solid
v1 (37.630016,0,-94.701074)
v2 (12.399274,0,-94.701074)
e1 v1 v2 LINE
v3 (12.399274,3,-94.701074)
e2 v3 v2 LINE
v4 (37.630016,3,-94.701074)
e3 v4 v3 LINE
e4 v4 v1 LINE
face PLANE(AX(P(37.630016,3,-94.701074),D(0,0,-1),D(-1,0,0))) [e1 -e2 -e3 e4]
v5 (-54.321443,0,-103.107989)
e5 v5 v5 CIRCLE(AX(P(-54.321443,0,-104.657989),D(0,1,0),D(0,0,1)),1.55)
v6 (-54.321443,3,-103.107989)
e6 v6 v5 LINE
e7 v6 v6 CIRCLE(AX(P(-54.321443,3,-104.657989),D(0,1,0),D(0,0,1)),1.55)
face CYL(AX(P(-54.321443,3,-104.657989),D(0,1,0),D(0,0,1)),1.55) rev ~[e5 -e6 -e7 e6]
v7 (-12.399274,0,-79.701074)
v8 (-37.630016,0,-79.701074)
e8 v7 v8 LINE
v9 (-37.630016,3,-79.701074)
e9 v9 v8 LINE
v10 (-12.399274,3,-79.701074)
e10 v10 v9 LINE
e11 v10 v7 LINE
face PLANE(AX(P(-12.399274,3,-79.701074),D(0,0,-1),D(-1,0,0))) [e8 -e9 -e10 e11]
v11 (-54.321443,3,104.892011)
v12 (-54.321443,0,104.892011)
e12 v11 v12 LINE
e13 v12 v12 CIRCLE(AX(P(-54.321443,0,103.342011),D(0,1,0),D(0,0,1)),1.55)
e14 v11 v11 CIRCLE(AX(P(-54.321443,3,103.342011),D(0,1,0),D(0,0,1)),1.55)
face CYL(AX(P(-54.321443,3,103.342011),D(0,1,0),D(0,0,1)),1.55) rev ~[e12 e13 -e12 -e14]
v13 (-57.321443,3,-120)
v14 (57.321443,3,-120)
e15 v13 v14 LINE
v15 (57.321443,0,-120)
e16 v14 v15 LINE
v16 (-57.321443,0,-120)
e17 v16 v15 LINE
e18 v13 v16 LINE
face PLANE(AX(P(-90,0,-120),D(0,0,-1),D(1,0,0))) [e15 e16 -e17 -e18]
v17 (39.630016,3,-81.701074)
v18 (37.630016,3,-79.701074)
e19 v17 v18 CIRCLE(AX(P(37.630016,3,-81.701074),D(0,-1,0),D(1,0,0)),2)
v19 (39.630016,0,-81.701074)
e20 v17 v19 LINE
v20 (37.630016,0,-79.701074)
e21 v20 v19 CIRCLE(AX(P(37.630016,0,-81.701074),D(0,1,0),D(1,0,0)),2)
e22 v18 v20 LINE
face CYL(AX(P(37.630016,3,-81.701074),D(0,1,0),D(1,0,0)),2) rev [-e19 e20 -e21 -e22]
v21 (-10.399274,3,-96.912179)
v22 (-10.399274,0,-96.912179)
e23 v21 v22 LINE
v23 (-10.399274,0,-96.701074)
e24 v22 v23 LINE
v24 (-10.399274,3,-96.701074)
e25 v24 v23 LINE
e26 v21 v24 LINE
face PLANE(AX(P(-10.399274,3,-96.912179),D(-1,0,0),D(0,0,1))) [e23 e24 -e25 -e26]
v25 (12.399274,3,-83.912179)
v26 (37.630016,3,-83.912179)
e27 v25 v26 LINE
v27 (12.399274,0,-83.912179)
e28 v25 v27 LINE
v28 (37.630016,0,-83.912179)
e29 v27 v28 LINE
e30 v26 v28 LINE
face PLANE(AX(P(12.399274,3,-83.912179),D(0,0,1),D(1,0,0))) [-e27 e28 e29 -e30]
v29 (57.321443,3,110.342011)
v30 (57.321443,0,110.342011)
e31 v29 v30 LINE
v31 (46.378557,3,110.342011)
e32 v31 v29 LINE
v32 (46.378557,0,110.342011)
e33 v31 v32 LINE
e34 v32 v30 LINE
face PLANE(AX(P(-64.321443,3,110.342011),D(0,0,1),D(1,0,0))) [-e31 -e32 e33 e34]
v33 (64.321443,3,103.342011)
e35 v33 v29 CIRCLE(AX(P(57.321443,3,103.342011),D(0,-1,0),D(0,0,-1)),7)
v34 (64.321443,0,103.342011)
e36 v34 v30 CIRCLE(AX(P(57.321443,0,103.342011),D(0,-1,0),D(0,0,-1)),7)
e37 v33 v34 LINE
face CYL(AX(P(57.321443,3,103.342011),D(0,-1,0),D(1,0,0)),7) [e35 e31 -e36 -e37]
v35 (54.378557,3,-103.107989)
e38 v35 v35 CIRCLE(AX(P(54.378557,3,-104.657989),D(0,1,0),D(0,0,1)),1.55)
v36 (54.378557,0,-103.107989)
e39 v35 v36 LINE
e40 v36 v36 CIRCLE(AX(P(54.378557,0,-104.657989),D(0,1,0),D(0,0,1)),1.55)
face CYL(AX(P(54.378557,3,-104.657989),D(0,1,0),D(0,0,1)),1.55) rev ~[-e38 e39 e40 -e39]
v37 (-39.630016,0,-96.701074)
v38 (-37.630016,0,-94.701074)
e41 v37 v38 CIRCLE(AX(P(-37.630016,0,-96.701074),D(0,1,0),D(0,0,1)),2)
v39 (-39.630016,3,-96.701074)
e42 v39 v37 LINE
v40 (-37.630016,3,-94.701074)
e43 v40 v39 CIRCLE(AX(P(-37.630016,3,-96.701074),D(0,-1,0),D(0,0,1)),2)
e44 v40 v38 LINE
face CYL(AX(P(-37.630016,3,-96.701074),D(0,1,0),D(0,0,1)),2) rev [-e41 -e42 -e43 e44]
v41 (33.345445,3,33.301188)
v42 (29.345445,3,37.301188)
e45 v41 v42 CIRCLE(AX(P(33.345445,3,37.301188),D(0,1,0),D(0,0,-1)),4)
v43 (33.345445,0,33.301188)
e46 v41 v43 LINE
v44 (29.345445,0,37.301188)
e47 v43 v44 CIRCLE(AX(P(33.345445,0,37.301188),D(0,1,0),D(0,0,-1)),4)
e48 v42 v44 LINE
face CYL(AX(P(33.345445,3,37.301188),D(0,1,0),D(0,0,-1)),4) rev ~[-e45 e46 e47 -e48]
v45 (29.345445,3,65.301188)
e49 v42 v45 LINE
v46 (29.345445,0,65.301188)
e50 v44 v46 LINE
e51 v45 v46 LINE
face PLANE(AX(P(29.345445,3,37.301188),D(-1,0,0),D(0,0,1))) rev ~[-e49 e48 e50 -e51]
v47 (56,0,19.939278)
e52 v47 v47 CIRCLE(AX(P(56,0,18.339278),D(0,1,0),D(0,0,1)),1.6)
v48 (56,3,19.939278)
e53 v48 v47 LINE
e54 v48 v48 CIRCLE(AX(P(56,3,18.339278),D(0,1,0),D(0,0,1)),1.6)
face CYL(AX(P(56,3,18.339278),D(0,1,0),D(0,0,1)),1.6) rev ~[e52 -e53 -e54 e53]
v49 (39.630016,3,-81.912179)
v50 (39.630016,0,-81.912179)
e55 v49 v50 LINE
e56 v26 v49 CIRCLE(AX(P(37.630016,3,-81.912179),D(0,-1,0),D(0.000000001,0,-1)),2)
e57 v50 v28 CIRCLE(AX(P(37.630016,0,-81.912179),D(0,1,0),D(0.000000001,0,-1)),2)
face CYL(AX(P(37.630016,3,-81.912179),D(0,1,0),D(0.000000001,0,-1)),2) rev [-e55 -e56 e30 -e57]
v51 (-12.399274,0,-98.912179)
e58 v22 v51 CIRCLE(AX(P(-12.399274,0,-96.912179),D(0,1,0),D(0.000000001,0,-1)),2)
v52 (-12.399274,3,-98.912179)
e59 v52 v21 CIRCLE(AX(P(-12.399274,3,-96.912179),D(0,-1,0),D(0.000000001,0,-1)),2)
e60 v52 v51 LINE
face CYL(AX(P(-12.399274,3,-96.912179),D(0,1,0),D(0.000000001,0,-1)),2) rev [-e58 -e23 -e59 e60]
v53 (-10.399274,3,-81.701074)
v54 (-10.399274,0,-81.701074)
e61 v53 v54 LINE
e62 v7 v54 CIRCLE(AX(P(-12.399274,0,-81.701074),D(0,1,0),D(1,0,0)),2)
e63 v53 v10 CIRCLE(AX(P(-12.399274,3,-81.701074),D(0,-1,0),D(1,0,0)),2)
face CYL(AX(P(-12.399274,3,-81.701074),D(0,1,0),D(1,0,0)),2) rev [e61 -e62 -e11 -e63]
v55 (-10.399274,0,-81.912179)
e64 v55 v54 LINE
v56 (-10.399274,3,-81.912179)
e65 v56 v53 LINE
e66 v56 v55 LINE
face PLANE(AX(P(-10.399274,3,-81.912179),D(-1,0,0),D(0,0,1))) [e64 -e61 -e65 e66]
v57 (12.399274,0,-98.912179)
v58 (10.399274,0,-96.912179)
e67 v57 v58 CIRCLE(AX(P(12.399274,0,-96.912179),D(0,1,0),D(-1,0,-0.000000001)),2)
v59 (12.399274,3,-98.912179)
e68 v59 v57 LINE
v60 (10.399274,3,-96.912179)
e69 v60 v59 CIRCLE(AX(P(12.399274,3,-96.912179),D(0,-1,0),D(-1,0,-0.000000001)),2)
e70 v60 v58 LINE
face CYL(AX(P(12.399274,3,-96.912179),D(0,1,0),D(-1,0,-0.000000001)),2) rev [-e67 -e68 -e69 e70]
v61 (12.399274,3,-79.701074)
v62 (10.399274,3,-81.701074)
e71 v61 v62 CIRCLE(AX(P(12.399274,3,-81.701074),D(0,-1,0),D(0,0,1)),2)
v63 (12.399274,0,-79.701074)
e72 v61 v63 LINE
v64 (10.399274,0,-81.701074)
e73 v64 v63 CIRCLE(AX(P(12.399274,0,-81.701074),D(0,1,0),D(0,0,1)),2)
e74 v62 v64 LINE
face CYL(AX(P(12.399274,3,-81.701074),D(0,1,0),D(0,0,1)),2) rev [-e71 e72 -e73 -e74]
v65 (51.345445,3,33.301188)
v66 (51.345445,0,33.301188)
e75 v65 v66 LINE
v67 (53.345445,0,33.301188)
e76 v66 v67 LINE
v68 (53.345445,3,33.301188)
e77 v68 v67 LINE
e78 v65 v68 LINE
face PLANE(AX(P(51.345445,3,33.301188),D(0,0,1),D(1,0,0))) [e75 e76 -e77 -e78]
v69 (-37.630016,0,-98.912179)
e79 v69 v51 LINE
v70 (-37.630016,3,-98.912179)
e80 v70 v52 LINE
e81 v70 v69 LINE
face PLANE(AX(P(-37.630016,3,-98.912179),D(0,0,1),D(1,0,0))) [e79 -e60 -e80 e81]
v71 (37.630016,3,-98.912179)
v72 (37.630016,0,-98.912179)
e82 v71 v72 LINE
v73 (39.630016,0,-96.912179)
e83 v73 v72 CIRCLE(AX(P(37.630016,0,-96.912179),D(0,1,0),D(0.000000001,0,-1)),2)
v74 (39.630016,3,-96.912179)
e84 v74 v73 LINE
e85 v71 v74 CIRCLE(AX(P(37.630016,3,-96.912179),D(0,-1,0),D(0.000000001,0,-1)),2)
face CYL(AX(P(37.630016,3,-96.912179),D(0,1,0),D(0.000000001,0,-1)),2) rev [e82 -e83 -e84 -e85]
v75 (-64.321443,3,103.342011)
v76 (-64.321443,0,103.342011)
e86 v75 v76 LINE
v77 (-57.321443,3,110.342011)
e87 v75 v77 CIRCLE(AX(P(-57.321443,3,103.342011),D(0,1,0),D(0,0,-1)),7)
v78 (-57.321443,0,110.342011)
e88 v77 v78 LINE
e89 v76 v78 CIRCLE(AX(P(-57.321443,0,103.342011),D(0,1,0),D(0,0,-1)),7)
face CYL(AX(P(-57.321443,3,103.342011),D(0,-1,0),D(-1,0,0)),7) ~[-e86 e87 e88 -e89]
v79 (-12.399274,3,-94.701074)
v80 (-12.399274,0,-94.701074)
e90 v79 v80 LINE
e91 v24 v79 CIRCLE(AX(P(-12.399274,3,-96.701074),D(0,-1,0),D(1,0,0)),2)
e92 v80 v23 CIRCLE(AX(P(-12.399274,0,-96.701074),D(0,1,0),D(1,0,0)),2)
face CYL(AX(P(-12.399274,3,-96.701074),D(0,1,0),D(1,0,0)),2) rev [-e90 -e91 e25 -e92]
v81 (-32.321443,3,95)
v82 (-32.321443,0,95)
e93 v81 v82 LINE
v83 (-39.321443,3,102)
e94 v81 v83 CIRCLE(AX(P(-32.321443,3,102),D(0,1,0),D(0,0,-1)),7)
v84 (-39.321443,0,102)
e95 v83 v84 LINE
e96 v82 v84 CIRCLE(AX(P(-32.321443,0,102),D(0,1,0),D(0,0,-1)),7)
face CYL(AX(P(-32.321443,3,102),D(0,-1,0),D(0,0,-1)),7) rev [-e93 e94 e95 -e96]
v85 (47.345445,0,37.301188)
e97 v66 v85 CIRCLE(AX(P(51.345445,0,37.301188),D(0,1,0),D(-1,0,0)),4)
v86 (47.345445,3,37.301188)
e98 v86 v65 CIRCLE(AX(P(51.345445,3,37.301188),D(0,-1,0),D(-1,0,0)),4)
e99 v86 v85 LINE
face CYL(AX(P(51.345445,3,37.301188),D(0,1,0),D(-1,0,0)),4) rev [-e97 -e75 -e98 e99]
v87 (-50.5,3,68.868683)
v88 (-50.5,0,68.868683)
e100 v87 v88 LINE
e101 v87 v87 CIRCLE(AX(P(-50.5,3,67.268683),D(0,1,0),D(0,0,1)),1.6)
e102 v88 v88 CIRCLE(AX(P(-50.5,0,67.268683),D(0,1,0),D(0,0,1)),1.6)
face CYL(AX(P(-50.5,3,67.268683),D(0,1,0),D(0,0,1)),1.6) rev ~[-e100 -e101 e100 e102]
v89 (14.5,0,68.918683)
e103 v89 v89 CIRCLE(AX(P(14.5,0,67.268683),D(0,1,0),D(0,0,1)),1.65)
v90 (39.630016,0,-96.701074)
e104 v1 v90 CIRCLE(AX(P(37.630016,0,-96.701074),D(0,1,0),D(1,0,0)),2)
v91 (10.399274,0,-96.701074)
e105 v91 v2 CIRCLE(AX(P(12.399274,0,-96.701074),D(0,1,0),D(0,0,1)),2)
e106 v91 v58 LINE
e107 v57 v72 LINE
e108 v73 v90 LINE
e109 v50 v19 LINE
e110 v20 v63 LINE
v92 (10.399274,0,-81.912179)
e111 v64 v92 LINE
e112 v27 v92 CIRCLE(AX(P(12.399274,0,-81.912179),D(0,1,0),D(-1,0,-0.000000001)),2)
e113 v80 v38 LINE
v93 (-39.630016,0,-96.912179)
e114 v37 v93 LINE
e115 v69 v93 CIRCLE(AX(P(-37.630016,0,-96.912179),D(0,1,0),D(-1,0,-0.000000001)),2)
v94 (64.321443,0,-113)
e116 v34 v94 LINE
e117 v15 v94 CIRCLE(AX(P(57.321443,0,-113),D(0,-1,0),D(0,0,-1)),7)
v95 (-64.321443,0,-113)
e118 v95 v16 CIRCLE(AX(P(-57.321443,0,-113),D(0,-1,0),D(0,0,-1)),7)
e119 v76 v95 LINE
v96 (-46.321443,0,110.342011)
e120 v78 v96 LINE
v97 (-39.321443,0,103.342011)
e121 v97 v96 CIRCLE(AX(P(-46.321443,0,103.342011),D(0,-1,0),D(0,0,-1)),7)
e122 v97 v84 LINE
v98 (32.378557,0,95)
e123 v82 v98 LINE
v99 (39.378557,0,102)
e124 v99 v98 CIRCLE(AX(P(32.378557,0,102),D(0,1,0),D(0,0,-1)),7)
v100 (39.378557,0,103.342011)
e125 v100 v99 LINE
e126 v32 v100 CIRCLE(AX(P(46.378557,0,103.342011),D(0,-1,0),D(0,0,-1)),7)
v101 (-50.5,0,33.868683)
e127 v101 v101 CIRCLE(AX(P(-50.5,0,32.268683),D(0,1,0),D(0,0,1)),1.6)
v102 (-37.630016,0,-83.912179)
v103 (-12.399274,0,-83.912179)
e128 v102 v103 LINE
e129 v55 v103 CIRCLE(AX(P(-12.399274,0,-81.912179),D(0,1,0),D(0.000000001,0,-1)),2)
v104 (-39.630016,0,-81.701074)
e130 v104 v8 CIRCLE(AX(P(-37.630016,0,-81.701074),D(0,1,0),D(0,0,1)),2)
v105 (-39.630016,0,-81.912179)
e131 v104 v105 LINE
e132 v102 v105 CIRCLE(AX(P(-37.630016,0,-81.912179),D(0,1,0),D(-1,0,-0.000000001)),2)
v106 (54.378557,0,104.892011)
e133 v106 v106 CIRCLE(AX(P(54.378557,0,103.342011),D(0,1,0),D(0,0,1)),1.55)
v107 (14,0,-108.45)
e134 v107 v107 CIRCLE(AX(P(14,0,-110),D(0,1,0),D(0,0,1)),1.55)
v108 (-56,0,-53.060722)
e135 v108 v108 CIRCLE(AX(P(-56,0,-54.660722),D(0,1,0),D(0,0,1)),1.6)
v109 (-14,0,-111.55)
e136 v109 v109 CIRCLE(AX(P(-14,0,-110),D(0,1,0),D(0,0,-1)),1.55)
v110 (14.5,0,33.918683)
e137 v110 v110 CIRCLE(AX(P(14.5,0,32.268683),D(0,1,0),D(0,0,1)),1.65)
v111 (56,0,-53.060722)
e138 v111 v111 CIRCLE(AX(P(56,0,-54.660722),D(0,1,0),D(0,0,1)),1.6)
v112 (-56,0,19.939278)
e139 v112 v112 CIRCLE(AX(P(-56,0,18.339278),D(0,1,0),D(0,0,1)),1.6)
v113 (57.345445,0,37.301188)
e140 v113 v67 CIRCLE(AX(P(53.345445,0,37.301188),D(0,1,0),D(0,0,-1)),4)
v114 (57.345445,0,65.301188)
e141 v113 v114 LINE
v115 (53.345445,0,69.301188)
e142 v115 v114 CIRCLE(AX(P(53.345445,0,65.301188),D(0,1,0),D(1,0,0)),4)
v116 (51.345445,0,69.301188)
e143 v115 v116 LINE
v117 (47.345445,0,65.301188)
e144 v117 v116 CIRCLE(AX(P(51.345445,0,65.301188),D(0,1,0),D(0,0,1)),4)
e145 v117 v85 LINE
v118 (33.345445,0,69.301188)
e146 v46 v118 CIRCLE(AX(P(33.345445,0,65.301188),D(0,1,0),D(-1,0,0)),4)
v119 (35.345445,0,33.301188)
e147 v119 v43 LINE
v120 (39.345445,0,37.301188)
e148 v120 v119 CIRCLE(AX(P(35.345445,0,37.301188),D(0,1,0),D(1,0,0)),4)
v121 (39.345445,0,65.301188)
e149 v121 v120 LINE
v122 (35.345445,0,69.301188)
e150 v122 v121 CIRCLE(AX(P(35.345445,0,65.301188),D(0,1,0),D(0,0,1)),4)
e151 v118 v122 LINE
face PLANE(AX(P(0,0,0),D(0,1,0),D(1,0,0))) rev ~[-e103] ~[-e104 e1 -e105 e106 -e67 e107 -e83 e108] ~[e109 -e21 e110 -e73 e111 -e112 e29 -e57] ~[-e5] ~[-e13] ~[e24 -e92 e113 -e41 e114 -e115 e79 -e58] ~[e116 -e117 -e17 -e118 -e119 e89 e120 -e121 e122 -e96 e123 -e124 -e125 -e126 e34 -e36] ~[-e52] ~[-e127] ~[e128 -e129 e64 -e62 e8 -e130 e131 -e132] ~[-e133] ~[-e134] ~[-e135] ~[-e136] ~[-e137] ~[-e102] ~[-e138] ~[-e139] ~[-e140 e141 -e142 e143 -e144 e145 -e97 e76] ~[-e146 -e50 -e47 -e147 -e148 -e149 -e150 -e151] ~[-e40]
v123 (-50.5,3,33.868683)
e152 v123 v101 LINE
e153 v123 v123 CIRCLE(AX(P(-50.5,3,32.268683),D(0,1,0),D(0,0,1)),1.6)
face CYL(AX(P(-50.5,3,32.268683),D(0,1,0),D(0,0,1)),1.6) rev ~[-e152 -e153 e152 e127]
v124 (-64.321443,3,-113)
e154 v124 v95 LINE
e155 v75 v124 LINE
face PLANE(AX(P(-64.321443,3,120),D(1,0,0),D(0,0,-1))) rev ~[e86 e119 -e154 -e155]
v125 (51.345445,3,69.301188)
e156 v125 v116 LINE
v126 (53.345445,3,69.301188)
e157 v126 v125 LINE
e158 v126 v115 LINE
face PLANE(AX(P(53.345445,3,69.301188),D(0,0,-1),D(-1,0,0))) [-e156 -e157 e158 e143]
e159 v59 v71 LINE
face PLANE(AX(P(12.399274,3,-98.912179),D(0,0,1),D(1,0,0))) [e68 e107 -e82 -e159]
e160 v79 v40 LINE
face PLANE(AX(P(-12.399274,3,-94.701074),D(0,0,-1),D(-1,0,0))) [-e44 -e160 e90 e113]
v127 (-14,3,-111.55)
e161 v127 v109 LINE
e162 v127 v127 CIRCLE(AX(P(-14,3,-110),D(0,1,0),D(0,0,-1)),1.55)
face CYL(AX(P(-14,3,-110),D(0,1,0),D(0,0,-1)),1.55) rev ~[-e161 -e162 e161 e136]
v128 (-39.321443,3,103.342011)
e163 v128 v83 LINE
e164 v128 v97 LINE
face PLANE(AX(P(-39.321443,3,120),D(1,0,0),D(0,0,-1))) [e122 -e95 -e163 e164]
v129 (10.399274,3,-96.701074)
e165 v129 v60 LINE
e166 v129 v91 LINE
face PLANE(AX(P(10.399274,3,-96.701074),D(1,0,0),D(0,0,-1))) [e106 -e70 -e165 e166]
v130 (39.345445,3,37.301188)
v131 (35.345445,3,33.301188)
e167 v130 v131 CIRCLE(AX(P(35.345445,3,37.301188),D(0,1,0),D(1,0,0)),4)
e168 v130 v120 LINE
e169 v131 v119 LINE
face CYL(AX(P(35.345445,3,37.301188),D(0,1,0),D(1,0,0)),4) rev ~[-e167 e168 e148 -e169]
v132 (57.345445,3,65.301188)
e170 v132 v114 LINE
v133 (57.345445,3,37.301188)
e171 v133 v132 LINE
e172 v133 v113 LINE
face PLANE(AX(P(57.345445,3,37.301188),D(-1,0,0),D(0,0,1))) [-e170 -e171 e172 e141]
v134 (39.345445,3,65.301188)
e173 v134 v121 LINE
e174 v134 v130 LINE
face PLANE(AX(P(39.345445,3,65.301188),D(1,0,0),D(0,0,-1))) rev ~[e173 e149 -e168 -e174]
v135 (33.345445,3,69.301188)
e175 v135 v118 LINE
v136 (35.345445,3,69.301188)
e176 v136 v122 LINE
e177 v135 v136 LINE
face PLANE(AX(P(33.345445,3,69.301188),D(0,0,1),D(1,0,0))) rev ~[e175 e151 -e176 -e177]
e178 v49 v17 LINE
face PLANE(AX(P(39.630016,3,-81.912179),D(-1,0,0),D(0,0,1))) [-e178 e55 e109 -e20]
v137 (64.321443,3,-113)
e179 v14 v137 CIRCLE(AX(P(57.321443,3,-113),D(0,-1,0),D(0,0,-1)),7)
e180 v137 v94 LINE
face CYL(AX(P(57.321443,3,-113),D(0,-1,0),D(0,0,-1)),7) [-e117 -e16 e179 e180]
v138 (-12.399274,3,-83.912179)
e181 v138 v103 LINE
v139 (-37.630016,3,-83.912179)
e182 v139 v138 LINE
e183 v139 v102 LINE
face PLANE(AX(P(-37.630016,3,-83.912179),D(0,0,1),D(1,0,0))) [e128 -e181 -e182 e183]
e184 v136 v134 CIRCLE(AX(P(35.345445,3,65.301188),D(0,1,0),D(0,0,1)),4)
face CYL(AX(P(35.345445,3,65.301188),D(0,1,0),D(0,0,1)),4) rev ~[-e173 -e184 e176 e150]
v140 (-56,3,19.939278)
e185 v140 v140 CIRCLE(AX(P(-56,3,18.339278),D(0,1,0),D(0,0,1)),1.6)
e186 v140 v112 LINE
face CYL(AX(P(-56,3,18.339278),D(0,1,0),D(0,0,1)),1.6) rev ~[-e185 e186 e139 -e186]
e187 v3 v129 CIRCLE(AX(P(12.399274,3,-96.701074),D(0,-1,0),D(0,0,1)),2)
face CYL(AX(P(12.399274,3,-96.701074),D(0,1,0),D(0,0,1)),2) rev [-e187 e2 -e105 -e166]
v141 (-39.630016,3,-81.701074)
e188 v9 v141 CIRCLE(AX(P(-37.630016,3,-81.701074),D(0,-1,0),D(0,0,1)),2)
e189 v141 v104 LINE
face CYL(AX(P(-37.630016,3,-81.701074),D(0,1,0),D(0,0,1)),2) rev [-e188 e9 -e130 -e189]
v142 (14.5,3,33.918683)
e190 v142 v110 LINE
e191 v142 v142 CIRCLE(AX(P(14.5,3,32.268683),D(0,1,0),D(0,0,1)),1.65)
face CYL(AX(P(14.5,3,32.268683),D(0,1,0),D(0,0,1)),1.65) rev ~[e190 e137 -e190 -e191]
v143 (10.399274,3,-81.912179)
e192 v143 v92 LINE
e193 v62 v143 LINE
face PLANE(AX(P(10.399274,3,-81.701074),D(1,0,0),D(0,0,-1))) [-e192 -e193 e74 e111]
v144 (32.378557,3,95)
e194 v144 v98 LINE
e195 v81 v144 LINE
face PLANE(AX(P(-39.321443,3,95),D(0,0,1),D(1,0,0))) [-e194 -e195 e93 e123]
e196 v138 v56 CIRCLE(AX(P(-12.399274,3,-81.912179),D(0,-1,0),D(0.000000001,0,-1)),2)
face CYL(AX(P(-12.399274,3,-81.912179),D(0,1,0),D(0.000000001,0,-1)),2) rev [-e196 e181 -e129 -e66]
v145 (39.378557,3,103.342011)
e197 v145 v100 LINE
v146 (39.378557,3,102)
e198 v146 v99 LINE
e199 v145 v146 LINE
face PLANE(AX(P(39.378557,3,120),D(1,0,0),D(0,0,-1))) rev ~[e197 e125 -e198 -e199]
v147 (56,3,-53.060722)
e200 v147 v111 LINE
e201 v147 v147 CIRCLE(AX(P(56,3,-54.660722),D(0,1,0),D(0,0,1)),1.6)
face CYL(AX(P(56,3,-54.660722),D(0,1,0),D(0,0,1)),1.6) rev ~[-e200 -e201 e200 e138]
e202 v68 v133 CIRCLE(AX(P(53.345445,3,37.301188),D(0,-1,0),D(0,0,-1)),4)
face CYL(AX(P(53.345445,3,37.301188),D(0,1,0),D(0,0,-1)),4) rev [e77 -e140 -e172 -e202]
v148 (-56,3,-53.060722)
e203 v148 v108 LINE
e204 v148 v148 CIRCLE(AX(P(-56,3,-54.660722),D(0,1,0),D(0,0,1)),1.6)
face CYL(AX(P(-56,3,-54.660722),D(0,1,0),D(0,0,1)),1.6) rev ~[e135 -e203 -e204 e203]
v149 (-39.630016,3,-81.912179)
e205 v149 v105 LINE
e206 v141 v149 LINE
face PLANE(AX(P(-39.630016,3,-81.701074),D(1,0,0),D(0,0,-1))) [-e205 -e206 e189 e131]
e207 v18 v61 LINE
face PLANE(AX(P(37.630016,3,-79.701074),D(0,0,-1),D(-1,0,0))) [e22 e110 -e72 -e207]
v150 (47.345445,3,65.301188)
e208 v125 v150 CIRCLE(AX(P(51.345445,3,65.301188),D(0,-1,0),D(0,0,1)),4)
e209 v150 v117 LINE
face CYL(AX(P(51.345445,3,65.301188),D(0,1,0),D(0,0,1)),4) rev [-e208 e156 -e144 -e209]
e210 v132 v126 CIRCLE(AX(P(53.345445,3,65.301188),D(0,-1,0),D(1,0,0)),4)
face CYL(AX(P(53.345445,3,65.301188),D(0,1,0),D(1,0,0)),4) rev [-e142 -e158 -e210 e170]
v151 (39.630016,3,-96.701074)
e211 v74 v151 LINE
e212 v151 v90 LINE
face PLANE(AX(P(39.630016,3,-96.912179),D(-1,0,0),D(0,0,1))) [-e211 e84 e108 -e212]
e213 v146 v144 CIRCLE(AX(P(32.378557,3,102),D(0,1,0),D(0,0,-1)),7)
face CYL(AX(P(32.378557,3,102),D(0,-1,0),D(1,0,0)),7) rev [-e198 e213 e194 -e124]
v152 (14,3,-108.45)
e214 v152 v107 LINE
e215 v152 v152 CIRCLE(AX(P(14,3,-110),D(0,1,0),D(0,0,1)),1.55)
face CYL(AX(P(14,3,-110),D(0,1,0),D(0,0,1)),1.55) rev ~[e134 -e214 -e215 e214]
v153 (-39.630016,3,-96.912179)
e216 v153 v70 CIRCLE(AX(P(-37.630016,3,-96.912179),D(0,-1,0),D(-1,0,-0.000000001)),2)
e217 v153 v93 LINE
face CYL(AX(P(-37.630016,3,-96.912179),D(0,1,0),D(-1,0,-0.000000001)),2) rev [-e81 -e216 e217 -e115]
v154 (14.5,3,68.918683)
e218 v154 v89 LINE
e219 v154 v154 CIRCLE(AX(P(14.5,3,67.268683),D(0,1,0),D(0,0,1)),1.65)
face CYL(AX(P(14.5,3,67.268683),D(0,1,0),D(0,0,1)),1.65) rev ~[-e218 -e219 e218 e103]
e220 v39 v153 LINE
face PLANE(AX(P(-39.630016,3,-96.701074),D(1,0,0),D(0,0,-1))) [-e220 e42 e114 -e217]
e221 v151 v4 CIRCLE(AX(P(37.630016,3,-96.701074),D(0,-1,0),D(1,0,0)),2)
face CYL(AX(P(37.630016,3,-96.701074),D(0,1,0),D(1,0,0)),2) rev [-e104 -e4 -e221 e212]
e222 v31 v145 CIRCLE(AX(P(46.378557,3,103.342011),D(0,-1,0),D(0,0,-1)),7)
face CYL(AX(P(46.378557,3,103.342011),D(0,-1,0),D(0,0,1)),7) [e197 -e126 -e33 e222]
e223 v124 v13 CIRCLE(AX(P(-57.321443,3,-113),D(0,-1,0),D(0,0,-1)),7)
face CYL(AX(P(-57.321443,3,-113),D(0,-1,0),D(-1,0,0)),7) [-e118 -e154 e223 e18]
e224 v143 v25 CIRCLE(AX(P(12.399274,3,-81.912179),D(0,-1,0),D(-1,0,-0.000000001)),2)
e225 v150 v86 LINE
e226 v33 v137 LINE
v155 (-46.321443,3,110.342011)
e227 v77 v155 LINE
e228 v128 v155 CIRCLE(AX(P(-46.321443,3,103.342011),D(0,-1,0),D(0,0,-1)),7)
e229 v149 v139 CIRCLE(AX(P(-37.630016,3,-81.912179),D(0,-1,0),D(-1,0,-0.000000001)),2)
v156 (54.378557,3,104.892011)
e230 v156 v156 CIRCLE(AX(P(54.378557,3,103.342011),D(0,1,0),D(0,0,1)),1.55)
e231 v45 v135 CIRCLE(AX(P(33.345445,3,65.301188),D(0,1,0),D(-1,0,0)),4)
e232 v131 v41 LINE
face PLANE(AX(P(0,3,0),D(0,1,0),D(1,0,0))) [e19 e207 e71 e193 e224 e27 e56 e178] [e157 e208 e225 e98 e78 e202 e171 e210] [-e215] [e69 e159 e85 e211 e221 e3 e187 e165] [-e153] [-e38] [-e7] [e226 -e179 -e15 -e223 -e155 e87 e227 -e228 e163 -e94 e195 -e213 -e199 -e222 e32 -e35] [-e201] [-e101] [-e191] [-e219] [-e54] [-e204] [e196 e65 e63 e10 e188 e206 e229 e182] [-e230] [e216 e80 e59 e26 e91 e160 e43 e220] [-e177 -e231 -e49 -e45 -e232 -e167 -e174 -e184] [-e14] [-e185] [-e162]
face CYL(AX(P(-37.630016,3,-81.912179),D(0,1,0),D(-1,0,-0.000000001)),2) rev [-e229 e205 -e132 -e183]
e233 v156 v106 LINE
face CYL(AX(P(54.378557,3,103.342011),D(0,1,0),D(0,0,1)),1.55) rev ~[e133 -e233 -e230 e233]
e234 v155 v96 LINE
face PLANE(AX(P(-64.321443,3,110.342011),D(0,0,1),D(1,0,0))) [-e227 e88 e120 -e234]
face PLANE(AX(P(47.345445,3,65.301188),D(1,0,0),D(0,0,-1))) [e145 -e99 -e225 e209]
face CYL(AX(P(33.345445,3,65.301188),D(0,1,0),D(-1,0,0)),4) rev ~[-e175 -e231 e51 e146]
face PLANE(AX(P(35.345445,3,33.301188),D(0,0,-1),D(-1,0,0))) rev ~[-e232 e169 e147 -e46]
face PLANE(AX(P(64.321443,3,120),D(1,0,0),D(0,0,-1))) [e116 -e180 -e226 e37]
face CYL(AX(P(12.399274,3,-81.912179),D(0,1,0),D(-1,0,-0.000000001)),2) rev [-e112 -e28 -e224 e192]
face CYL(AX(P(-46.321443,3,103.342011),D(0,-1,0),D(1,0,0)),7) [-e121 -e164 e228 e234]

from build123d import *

# Parameters (mm, degrees)
SKETCH1_W           = 180
SKETCH1_H           = 240
BOSS_EXTRUDE1_DEPTH = 3
SKETCH3_R           = 1.55
CUT_EXTRUDE2_DEPTH  = 151.029997001
SKETCH4_R           = 1.6
SKETCH4_R_2         = 1.65
CUT_EXTRUDE3_DEPTH  = 151.029997001
SKETCH5_R           = 1.6
CUT_EXTRUDE4_DEPTH  = 151.029997001
SKETCH6_R           = 1.55
CUT_EXTRUDE5_DEPTH  = 151.029997001
SKETCH7_W           = 25.678556749
SKETCH7_H           = 240
SKETCH7_W_2         = 78.7
SKETCH7_H_2         = 25
CUT_EXTRUDE6_DEPTH  = 151.029997001
SKETCH8_W           = 128.642886502
SKETCH8_H           = 9.657988802
CUT_EXTRUDE7_DEPTH  = 137.184610224
FILLET1_R           = 7


with BuildPart() as part:
    # Sketch1 → Boss-Extrude1 (new body)
    with BuildSketch(Plane(origin=(0, 0, 0), x_dir=(1, 0, 0), z_dir=(0, 1, 0))):
        Rectangle(SKETCH1_W, SKETCH1_H)
    extrude(amount=BOSS_EXTRUDE1_DEPTH)

    # Sketch3 → Cut-Extrude2 (cut, through all)
    with BuildSketch(Plane(origin=(0, 3, 0), x_dir=(1, 0, 0), z_dir=(0, 1, 0))):
        with Locations(Location((14, 110, 0), (0, 0, 270))):
            Circle(SKETCH3_R)
        with Locations(Location((-14, 110, 0), (0, 0, 90))):
            Circle(SKETCH3_R)
    extrude(amount=-CUT_EXTRUDE2_DEPTH, mode=Mode.SUBTRACT)

    # Sketch4 → Cut-Extrude3 (cut, through all)
    with BuildSketch(Plane(origin=(0, 3, 0), x_dir=(1, 0, 0), z_dir=(0, 1, 0))):
        with Locations(Location((-50.5, -32.268683434, 0), (0, 0, 270))):
            Circle(SKETCH4_R)
        with Locations(Location((-50.5, -67.268683434, 0), (0, 0, 270))):
            Circle(SKETCH4_R)
        with Locations(Location((14.5, -32.268683434, 0), (0, 0, 270))):
            Circle(SKETCH4_R_2)
        with Locations(Location((14.5, -67.268683434, 0), (0, 0, 270))):
            Circle(SKETCH4_R_2)
    extrude(amount=-CUT_EXTRUDE3_DEPTH, mode=Mode.SUBTRACT)

    # Sketch5 → Cut-Extrude4 (cut, through all)
    with BuildSketch(Plane(origin=(0, 3, 0), x_dir=(1, 0, 0), z_dir=(0, 1, 0))):
        with Locations(Location((56, 54.660722259, 0), (0, 0, 270))):
            Circle(SKETCH5_R)
        with Locations(Location((56, -18.339277741, 0), (0, 0, 270))):
            Circle(SKETCH5_R)
        with Locations(Location((-56, -18.339277741, 0), (0, 0, 270))):
            Circle(SKETCH5_R)
        with Locations(Location((-56, 54.660722259, 0), (0, 0, 270))):
            Circle(SKETCH5_R)
    extrude(amount=-CUT_EXTRUDE4_DEPTH, mode=Mode.SUBTRACT)

    # Sketch6 → Cut-Extrude5 (cut, through all)
    with BuildSketch(Plane(origin=(0, 3, 0), x_dir=(1, 0, 0), z_dir=(0, 1, 0))):
        with Locations(Location((-54.321443251, -103.342011198, 0), (0, 0, 270))):
            Circle(SKETCH6_R)
        with Locations(Location((54.378556749, -103.342011198, 0), (0, 0, 270))):
            Circle(SKETCH6_R)
        with Locations(Location((-54.321443251, 104.657988802, 0), (0, 0, 270))):
            Circle(SKETCH6_R)
        with Locations(Location((54.378556749, 104.657988802, 0), (0, 0, 270))):
            Circle(SKETCH6_R)
    extrude(amount=-CUT_EXTRUDE5_DEPTH, mode=Mode.SUBTRACT)

    # Sketch7 → Cut-Extrude6 (cut, through all)
    with BuildSketch(Plane(origin=(0, 3, 0), x_dir=(1, 0, 0), z_dir=(0, 1, 0))):
        with BuildLine():
            Line((37.630016224, 79.701073582), (12.399273995, 79.701073582))
            ThreePointArc((12.399273995, 79.701073582), (10.985060433, 80.286860019), (10.399273995, 81.701073582))
            Line((10.399273995, 81.701073582), (10.399273995, 81.912178755))
            ThreePointArc((10.399273995, 81.912178755), (10.985060433, 83.326392317), (12.399273995, 83.912178755))
            Line((12.399273995, 83.912178755), (37.630016224, 83.912178755))
            ThreePointArc((37.630016224, 83.912178755), (39.044229786, 83.326392317), (39.630016224, 81.912178755))
            Line((39.630016224, 81.912178755), (39.630016224, 81.701073582))
            ThreePointArc((39.630016224, 81.701073582), (39.044229786, 80.286860019), (37.630016224, 79.701073582))
        make_face()
        with BuildLine():
            Line((-37.630016224, 83.912178755), (-12.399273995, 83.912178755))
            ThreePointArc((-12.399273995, 83.912178755), (-10.985060433, 83.326392317), (-10.399273995, 81.912178755))
            Line((-10.399273995, 81.912178755), (-10.399273995, 81.701073582))
            ThreePointArc((-10.399273995, 81.701073582), (-10.985060433, 80.286860019), (-12.399273995, 79.701073582))
            Line((-12.399273995, 79.701073582), (-37.630016224, 79.701073582))
            ThreePointArc((-37.630016224, 79.701073582), (-39.044229786, 80.286860019), (-39.630016224, 81.701073582))
            Line((-39.630016224, 81.701073582), (-39.630016224, 81.912178755))
            ThreePointArc((-39.630016224, 81.912178755), (-39.044229786, 83.326392317), (-37.630016224, 83.912178755))
        make_face()
        with Locations((-77.160721626, 0)):
            Rectangle(SKETCH7_W, SKETCH7_H)
        with Locations((0.028556749, -107.5)):
            Rectangle(SKETCH7_W_2, SKETCH7_H_2)
        with Locations((77.160721626, 0)):
            Rectangle(SKETCH7_W, SKETCH7_H)
        with BuildLine():
            Line((29.345445331, -37.30118784), (29.345445331, -65.30118784))
            ThreePointArc((29.345445331, -65.30118784), (30.517018206, -68.129614965), (33.345445331, -69.30118784))
            Line((33.345445331, -69.30118784), (35.345445331, -69.30118784))
            ThreePointArc((35.345445331, -69.30118784), (38.173872456, -68.129614965), (39.345445331, -65.30118784))
            Line((39.345445331, -65.30118784), (39.345445331, -37.30118784))
            ThreePointArc((39.345445331, -37.30118784), (38.173872456, -34.472760715), (35.345445331, -33.30118784))
            Line((35.345445331, -33.30118784), (33.345445331, -33.30118784))
            ThreePointArc((33.345445331, -33.30118784), (30.517018206, -34.472760715), (29.345445331, -37.30118784))
        make_face()
        with BuildLine():
            Line((51.345445331, -33.30118784), (53.345445331, -33.30118784))
            ThreePointArc((53.345445331, -33.30118784), (56.173872456, -34.472760715), (57.345445331, -37.30118784))
            Line((57.345445331, -37.30118784), (57.345445331, -65.30118784))
            ThreePointArc((57.345445331, -65.30118784), (56.173872456, -68.129614965), (53.345445331, -69.30118784))
            Line((53.345445331, -69.30118784), (51.345445331, -69.30118784))
            ThreePointArc((51.345445331, -69.30118784), (48.517018206, -68.129614965), (47.345445331, -65.30118784))
            Line((47.345445331, -65.30118784), (47.345445331, -37.30118784))
            ThreePointArc((47.345445331, -37.30118784), (48.517018206, -34.472760715), (51.345445331, -33.30118784))
        make_face()
        with BuildLine():
            Line((37.630016224, 94.701073582), (12.399273995, 94.701073582))
            ThreePointArc((12.399273995, 94.701073582), (10.985060433, 95.286860019), (10.399273995, 96.701073582))
            Line((10.399273995, 96.701073582), (10.399273995, 96.912178755))
            ThreePointArc((10.399273995, 96.912178755), (10.985060433, 98.326392317), (12.399273995, 98.912178755))
            Line((12.399273995, 98.912178755), (37.630016224, 98.912178755))
            ThreePointArc((37.630016224, 98.912178755), (39.044229786, 98.326392317), (39.630016224, 96.912178755))
            Line((39.630016224, 96.912178755), (39.630016224, 96.701073582))
            ThreePointArc((39.630016224, 96.701073582), (39.044229786, 95.286860019), (37.630016224, 94.701073582))
        make_face()
        with BuildLine():
            Line((-37.630016224, 98.912178755), (-12.399273995, 98.912178755))
            ThreePointArc((-12.399273995, 98.912178755), (-10.985060433, 98.326392317), (-10.399273995, 96.912178755))
            Line((-10.399273995, 96.912178755), (-10.399273995, 96.701073582))
            ThreePointArc((-10.399273995, 96.701073582), (-10.985060433, 95.286860019), (-12.399273995, 94.701073582))
            Line((-12.399273995, 94.701073582), (-37.630016224, 94.701073582))
            ThreePointArc((-37.630016224, 94.701073582), (-39.044229786, 95.286860019), (-39.630016224, 96.701073582))
            Line((-39.630016224, 96.701073582), (-39.630016224, 96.912178755))
            ThreePointArc((-39.630016224, 96.912178755), (-39.044229786, 98.326392317), (-37.630016224, 98.912178755))
        make_face()
    extrude(amount=-CUT_EXTRUDE6_DEPTH, mode=Mode.SUBTRACT)

    # Sketch8 → Cut-Extrude7 (cut, through all)
    with BuildSketch(Plane(origin=(0, 3, 0), x_dir=(1, 0, 0), z_dir=(0, 1, 0))):
        with Locations((0, -115.171005599)):
            Rectangle(SKETCH8_W, SKETCH8_H)
    extrude(amount=-CUT_EXTRUDE7_DEPTH, mode=Mode.SUBTRACT)

    # Fillet1
    fillet1_edges = [part.edges().sort_by_distance(p)[0] for p in [
        (-64.321443251, 1.5, -120),
        (-39.321443251, 1.5, 95),
        (39.378556749, 1.5, 95),
        (64.321443251, 1.5, -120),
        (39.378556749, 1.5, 110.342011198),
        (-39.321443251, 1.5, 110.342011198),
        (-64.321443251, 1.5, 110.342011198),
        (64.321443251, 1.5, 110.342011198),
    ]]
    fillet(fillet1_edges, radius=FILLET1_R)


solid = part.part
